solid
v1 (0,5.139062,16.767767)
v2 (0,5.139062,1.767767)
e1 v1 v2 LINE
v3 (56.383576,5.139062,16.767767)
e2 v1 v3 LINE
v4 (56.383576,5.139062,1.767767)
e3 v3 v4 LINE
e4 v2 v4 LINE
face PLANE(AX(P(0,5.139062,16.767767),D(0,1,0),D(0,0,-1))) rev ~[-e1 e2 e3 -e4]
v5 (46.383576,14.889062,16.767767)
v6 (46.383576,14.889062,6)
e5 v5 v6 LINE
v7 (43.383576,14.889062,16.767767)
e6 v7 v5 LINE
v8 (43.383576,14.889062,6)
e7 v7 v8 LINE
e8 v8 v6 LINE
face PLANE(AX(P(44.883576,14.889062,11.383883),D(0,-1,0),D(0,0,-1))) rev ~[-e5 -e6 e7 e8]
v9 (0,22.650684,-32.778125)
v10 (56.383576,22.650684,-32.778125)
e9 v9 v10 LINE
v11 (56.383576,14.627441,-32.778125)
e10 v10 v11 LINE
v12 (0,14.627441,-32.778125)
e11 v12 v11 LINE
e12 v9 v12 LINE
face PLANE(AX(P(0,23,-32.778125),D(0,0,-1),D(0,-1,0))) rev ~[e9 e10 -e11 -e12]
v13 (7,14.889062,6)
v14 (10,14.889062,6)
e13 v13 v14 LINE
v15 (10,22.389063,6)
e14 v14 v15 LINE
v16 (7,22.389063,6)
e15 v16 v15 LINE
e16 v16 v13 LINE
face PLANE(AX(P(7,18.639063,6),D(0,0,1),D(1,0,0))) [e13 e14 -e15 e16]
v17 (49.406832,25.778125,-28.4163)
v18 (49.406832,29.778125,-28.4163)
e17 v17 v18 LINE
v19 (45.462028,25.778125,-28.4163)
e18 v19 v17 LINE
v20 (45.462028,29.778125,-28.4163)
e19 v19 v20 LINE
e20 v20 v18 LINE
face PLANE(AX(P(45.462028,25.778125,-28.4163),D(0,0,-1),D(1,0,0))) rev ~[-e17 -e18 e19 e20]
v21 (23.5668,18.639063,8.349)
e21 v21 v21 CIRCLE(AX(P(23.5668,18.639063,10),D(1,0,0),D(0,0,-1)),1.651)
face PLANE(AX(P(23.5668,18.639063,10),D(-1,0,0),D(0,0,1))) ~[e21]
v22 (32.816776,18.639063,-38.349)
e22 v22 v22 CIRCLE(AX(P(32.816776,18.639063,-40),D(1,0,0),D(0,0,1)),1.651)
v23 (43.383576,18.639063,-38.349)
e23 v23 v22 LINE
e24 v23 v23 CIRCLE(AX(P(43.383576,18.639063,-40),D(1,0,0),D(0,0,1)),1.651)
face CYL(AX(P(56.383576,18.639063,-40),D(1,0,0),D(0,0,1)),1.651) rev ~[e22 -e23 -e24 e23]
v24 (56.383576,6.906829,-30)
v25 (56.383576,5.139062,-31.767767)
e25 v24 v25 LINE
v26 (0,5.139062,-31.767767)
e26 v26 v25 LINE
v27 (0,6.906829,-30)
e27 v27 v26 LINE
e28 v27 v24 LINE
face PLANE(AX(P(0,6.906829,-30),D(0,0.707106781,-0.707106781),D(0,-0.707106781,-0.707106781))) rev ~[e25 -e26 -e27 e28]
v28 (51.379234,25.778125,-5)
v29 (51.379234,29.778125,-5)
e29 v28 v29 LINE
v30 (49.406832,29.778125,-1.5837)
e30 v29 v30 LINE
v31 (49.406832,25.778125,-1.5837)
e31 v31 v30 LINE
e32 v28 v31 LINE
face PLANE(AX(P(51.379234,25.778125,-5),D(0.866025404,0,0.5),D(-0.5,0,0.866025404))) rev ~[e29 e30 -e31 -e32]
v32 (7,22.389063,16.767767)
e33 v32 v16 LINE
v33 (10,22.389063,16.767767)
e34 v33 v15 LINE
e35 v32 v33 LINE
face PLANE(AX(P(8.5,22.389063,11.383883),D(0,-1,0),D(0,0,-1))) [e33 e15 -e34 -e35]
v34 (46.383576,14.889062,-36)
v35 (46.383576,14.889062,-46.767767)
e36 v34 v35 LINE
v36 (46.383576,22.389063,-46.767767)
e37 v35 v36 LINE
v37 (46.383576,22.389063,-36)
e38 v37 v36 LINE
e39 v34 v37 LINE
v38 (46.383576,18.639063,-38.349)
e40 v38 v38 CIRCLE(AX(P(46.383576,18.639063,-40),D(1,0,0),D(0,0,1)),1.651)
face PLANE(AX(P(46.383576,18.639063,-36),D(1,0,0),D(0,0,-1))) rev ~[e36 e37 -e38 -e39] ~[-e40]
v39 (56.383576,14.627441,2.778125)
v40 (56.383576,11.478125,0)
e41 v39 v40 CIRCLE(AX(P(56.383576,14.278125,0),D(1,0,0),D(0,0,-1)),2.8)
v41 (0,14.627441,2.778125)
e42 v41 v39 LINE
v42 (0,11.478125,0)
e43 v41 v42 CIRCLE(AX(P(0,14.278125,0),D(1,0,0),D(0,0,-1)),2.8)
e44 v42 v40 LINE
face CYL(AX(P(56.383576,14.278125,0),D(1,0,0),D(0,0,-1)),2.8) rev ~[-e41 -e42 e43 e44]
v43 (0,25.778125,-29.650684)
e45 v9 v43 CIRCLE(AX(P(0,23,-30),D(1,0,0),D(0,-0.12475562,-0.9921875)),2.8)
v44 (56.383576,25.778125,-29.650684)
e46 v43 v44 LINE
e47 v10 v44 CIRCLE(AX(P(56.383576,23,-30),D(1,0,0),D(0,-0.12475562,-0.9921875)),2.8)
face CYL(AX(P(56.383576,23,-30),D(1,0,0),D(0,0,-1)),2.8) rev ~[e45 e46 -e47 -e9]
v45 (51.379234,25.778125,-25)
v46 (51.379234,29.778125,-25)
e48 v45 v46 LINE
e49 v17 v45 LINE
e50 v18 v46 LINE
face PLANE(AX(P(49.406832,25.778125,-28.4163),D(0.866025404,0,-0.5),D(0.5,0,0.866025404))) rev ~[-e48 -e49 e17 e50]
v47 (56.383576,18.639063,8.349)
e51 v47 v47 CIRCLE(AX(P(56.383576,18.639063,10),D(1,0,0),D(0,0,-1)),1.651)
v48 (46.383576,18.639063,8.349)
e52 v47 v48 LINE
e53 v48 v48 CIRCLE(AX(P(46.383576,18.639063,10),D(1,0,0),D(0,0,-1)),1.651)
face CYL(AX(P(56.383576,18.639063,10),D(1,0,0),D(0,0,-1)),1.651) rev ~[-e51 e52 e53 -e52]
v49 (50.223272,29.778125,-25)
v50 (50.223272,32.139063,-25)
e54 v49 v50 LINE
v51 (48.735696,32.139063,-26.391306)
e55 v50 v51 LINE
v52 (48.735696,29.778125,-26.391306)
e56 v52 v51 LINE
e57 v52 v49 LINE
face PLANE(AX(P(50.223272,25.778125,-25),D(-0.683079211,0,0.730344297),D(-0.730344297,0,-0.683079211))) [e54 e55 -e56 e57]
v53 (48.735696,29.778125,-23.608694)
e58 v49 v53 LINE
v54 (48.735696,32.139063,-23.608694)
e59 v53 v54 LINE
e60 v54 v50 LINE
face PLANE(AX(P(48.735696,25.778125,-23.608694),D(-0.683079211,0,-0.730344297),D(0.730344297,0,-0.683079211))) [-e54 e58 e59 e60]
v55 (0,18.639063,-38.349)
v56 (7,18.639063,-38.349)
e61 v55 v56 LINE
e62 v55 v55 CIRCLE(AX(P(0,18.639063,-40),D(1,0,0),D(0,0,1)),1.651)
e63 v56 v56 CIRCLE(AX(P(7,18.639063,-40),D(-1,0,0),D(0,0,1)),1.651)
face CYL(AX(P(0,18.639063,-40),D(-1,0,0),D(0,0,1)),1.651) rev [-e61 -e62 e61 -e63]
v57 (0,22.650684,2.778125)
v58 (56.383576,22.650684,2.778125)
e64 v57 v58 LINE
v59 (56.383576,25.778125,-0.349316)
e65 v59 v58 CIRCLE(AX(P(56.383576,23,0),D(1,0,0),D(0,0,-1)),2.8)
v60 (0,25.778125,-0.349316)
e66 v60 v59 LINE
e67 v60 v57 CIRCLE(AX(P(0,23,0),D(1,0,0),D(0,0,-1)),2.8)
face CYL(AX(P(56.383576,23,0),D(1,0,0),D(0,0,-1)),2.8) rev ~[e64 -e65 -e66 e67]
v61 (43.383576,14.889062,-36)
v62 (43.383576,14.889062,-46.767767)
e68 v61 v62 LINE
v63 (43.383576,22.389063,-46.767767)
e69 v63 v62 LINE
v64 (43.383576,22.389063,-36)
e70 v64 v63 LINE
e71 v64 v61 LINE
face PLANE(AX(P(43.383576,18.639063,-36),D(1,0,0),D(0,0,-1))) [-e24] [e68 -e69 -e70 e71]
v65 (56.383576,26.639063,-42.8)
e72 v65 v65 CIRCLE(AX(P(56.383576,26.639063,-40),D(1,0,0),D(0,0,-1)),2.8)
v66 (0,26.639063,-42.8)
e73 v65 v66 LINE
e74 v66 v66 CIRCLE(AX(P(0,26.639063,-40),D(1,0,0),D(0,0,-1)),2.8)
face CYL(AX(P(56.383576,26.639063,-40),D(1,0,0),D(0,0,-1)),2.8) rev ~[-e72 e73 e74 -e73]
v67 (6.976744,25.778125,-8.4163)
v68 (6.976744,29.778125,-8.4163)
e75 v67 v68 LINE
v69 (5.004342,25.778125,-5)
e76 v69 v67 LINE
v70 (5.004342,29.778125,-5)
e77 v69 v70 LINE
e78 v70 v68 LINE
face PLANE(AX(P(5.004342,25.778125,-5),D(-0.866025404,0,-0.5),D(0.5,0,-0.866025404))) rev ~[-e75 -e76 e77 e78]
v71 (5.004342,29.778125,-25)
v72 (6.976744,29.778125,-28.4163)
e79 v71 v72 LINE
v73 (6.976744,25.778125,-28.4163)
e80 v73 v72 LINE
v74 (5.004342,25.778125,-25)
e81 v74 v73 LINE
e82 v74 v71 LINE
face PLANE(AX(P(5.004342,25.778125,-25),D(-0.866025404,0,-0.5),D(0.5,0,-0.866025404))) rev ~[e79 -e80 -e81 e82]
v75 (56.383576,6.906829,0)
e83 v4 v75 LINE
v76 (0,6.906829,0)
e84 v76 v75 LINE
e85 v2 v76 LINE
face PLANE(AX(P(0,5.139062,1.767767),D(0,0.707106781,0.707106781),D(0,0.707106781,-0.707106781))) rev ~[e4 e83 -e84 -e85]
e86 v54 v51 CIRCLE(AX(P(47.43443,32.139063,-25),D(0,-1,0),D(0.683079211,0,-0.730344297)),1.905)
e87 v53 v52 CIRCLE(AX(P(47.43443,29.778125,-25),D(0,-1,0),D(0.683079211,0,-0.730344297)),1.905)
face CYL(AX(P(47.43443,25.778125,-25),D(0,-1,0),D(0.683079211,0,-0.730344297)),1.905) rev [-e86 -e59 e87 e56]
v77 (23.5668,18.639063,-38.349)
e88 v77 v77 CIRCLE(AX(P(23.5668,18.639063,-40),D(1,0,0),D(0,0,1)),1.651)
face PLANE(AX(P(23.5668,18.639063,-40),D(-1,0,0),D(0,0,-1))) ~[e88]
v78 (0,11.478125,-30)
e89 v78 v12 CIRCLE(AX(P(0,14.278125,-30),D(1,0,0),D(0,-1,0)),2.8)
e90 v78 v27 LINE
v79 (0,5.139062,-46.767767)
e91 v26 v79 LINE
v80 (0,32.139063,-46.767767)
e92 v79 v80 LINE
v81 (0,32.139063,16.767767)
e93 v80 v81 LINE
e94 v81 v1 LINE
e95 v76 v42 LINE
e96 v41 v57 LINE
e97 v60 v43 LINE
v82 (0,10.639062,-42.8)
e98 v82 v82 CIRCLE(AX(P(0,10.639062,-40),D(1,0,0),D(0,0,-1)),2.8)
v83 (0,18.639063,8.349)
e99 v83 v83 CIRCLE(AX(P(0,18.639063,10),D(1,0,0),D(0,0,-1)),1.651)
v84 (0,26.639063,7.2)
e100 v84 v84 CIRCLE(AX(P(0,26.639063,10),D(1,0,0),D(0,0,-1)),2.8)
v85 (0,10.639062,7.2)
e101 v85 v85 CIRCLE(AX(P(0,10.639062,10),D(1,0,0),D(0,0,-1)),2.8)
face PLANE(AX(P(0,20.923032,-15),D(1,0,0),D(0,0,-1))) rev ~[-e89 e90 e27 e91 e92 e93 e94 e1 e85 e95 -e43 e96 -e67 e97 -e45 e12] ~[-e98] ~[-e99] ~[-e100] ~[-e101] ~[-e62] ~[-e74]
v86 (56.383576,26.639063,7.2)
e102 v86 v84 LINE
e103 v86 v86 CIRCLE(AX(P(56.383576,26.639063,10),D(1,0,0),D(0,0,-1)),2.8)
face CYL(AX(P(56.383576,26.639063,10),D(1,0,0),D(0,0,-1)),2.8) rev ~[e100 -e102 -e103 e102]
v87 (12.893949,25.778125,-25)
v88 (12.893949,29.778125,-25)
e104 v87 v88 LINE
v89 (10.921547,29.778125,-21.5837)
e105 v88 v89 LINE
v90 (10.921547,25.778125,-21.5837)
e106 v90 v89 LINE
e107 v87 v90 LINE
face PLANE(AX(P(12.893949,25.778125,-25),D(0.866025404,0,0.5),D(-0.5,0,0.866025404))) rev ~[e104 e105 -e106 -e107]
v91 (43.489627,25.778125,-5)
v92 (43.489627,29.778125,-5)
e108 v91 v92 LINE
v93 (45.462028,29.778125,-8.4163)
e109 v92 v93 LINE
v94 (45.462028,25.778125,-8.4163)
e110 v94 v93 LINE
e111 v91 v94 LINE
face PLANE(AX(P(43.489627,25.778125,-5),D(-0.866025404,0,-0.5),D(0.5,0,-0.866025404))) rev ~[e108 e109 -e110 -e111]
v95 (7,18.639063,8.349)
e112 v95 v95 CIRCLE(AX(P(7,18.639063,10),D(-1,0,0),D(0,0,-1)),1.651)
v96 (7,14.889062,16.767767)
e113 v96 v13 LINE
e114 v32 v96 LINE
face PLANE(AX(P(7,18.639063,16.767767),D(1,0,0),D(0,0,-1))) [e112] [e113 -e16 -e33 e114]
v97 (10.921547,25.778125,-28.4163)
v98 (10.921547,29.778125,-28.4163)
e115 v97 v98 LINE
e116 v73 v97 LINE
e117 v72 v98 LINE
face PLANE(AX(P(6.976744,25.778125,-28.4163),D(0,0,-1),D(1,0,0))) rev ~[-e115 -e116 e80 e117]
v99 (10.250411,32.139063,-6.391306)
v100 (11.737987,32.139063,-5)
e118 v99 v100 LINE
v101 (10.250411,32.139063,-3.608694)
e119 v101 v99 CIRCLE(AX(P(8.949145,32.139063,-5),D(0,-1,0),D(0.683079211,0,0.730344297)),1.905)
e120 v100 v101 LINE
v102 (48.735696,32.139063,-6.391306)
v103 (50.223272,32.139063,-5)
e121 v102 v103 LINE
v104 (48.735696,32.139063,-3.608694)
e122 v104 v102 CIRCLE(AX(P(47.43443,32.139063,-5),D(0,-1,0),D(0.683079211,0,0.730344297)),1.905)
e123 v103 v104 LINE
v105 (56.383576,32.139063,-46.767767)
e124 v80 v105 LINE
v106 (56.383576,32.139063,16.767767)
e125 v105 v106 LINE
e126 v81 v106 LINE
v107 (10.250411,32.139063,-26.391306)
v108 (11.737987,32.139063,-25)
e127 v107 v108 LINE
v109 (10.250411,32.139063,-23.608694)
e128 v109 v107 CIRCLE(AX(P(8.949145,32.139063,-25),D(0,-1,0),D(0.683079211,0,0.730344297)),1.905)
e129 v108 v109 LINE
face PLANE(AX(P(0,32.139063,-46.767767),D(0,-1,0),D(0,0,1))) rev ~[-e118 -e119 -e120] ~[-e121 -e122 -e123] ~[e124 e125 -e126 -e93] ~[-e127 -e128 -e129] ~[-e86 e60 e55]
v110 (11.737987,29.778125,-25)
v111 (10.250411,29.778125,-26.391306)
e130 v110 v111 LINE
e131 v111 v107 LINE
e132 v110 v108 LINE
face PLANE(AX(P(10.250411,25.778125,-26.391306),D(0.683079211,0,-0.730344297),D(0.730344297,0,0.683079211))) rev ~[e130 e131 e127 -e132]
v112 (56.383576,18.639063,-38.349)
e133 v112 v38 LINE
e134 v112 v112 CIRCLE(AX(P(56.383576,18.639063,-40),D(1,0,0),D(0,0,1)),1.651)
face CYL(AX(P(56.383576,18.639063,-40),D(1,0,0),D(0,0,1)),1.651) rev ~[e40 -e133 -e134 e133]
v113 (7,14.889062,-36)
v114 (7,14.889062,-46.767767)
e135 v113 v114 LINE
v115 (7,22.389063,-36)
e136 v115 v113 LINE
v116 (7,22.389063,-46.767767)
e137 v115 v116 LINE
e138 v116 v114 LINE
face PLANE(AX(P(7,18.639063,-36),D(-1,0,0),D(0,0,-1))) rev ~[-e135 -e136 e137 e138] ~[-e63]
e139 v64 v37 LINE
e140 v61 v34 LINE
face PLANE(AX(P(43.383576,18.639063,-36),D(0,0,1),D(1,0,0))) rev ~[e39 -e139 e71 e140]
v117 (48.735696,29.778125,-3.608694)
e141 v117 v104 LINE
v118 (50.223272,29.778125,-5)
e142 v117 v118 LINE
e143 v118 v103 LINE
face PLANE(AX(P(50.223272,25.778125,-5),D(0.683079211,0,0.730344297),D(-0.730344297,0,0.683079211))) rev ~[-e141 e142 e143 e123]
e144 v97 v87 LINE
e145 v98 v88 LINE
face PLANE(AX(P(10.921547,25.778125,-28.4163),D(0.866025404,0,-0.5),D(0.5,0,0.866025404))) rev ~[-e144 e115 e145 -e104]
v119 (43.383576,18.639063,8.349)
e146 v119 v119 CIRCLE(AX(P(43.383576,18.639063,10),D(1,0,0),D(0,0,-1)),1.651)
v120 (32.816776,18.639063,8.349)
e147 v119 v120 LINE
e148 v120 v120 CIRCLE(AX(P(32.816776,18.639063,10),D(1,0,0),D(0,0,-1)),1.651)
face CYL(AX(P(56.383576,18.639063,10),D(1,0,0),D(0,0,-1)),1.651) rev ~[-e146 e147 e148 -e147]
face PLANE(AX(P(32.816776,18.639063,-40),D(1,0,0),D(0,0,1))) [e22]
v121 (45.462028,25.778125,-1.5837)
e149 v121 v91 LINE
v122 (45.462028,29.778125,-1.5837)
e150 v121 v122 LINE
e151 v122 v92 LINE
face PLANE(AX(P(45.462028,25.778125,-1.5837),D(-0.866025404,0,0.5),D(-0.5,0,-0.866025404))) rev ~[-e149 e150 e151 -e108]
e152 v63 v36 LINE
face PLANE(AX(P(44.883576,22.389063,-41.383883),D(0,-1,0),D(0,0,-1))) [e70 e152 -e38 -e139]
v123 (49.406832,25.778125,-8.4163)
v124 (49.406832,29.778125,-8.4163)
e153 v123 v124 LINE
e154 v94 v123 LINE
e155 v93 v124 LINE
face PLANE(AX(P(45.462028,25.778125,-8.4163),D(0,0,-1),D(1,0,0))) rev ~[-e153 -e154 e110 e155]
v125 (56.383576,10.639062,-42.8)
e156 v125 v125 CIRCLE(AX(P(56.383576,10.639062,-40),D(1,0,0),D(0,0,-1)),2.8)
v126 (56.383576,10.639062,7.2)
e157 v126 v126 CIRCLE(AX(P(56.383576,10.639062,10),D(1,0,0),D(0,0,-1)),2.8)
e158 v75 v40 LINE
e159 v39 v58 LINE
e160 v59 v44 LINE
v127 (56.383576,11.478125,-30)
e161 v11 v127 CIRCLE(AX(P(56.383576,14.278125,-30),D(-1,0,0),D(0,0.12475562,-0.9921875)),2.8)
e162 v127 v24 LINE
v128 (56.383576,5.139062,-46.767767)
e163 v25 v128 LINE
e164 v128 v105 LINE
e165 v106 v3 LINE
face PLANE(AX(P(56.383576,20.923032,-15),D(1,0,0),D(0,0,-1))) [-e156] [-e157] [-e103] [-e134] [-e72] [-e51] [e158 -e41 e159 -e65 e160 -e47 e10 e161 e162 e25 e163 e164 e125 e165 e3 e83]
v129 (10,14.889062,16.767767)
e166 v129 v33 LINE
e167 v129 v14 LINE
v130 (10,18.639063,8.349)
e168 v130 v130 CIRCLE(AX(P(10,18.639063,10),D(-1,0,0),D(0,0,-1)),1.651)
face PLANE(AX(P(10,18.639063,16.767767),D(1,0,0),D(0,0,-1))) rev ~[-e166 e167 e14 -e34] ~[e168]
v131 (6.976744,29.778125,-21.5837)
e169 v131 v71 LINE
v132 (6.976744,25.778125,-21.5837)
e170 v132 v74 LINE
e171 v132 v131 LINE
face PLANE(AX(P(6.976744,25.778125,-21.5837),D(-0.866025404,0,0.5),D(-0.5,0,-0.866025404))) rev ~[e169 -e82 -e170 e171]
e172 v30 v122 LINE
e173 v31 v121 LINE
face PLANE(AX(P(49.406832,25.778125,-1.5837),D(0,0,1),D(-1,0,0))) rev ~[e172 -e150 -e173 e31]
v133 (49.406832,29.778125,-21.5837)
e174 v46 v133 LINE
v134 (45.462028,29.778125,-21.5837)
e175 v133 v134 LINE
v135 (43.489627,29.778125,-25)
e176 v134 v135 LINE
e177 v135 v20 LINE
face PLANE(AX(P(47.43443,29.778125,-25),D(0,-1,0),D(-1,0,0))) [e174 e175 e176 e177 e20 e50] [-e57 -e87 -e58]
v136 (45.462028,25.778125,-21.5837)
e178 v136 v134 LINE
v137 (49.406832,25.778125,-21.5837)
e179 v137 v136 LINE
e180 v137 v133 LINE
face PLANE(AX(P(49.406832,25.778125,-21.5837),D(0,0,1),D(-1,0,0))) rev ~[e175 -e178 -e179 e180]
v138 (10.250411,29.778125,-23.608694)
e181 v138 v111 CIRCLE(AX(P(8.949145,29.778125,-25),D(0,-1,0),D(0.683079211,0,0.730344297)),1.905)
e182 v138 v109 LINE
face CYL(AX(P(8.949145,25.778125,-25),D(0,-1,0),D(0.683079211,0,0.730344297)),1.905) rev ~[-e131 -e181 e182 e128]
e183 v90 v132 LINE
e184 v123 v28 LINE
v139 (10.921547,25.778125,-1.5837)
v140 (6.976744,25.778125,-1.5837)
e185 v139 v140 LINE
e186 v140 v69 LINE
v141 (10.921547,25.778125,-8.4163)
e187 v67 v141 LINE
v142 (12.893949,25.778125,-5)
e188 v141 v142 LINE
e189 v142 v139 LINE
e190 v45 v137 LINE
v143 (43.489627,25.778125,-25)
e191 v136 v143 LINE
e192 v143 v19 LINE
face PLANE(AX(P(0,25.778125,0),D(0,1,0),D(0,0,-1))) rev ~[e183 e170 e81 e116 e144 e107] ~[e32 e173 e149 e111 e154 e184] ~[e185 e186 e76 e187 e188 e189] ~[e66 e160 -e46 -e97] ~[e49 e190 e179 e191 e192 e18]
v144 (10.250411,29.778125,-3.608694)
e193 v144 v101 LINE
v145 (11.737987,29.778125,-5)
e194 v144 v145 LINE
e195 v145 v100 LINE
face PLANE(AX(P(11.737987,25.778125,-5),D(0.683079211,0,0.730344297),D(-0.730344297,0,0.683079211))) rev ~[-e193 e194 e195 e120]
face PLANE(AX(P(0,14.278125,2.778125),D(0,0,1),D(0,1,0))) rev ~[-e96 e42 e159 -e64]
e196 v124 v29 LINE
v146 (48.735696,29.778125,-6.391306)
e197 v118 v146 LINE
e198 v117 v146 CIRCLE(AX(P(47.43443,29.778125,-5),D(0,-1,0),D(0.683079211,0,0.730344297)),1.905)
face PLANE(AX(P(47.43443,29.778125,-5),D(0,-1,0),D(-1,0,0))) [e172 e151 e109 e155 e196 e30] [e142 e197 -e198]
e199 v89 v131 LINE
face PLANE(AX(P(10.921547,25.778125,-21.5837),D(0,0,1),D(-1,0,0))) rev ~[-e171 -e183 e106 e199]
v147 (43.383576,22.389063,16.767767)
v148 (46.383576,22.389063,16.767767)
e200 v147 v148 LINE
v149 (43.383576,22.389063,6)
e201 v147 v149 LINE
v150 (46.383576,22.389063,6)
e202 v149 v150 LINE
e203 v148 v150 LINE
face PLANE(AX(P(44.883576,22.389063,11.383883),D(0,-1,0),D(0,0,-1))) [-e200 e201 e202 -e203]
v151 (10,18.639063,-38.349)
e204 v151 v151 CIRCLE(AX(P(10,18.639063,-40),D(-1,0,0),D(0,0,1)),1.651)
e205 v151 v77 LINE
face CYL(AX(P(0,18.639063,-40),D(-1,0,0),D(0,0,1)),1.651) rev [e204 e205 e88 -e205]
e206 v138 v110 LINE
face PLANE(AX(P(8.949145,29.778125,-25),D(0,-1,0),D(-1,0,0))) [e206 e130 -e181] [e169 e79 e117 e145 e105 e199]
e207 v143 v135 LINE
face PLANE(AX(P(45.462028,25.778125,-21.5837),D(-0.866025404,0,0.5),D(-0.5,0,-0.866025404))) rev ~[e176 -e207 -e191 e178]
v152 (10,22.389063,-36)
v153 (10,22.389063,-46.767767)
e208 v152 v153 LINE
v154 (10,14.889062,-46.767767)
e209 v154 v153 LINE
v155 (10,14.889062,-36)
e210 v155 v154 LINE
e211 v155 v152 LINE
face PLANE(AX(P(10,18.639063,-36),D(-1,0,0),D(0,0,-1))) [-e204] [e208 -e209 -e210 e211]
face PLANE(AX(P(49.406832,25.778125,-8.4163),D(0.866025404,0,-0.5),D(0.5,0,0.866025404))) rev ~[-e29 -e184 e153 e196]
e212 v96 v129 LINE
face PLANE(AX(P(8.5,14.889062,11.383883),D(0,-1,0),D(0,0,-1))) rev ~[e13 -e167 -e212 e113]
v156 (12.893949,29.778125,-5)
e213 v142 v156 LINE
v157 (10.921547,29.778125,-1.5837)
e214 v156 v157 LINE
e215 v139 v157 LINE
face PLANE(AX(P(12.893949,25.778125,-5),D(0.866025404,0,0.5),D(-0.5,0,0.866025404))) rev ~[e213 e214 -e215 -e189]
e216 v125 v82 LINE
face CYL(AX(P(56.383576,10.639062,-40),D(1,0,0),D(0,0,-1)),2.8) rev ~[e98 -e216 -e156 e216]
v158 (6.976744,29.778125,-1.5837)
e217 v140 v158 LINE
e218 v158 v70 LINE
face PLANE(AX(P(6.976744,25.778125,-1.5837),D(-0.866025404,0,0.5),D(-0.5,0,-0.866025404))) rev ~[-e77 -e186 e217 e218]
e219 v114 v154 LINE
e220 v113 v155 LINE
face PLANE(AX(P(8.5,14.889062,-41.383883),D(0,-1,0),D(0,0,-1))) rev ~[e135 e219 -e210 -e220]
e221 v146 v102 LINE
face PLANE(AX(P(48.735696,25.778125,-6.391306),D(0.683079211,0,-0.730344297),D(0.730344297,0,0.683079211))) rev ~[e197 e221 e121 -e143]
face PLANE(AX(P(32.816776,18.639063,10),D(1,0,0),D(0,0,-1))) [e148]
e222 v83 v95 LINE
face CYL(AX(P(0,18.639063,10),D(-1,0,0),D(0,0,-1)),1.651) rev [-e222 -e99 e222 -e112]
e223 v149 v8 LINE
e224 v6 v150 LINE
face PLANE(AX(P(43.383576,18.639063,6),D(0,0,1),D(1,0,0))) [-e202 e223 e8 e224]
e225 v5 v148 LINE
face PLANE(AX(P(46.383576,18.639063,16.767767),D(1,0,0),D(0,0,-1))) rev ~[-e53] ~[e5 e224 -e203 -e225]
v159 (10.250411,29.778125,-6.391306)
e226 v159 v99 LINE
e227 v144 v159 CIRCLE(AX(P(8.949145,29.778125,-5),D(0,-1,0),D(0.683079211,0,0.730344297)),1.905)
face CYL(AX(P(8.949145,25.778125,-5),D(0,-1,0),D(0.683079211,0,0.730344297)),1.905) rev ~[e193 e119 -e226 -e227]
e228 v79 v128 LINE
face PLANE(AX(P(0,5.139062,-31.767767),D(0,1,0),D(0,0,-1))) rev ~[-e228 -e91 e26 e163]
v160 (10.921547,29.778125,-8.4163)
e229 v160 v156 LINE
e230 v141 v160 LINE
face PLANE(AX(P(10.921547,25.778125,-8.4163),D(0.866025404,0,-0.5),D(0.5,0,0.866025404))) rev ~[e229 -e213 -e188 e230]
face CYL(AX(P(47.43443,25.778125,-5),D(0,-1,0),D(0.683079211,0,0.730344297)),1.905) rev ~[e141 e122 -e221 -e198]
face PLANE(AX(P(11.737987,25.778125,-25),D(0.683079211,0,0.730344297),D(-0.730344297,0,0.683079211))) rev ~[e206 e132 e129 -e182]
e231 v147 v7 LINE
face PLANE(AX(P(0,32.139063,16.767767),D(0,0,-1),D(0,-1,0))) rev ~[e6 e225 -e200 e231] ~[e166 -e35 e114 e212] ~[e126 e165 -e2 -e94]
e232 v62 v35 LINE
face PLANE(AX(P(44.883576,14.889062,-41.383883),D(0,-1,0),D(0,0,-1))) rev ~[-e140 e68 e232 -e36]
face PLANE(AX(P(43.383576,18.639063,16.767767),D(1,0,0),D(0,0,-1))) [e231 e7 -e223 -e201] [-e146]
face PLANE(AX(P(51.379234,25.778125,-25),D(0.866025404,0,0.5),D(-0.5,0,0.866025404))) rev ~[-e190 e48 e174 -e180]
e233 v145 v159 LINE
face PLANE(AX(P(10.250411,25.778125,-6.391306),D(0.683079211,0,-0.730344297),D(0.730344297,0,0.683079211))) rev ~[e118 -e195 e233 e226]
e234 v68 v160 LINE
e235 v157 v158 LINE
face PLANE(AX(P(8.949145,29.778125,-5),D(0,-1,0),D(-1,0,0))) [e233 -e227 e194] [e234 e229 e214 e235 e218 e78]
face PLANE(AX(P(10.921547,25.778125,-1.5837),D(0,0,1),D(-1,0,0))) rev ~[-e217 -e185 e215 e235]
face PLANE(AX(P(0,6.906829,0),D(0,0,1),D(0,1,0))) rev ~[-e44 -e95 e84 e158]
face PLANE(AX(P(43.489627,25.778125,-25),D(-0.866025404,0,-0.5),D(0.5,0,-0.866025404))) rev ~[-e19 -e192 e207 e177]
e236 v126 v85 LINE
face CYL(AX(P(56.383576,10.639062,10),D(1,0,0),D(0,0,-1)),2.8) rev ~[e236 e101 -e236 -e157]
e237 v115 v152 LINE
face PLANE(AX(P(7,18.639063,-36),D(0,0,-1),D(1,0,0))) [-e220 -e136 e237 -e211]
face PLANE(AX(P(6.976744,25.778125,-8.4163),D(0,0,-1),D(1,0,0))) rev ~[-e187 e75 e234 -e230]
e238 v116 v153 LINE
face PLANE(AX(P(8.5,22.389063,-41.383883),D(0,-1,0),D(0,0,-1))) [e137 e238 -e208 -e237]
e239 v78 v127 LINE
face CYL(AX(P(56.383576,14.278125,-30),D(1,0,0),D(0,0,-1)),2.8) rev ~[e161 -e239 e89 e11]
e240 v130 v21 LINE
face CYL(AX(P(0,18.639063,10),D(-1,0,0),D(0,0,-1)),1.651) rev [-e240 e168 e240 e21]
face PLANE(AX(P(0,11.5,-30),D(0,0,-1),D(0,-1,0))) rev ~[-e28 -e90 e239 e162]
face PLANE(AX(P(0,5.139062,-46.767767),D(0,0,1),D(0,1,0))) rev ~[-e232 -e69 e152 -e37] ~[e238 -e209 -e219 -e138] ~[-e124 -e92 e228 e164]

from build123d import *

# Parameters (mm, degrees)
SKETCH2_R           = 2.778125
BOSS_EXTRUDE2_DEPTH = 56.3835756
SKETCH3_R           = 1.651
CUT_EXTRUDE1_DEPTH  = 23.5668
SKETCH4_W           = 10.767766953
SKETCH4_H           = 3
CUT_EXTRUDE2_DEPTH  = 3.75
SKETCH5_R           = 2.8
CUT_EXTRUDE3_DEPTH  = 80.995318373
CUT_EXTRUDE4_DEPTH  = 77.107177875
CUT_EXTRUDE5_DEPTH  = 4


with BuildPart() as part:
    # Sketch2 → Boss-Extrude2 (new body)
    with BuildSketch(Plane(origin=(0, 0, 0), x_dir=(0, 0, -1), z_dir=(1, 0, 0))):
        with BuildLine():
            Line((0, 25.778125), (30, 25.778125))
            ThreePointArc((30, 25.778125), (31.964431026, 24.964431026), (32.778125, 23))
            Line((32.778125, 23), (32.778125, 14.278125))
            ThreePointArc((32.778125, 14.278125), (31.964431026, 12.313693974), (30, 11.5))
            Line((30, 11.5), (30, 6.906829453))
            Line((30, 6.906829453), (31.767766953, 5.1390625))
            Line((31.767766953, 5.1390625), (46.767766953, 5.1390625))
            Line((46.767766953, 5.1390625), (46.767766953, 32.1390625))
            Line((46.767766953, 32.1390625), (-16.767766953, 32.1390625))
            Line((-16.767766953, 32.1390625), (-16.767766953, 5.1390625))
            Line((-16.767766953, 5.1390625), (-1.767766953, 5.1390625))
            Line((-1.767766953, 5.1390625), (0, 6.906829453))
            Line((0, 6.906829453), (0, 11.5))
            ThreePointArc((0, 11.5), (-1.964431026, 12.313693974), (-2.778125, 14.278125))
            Line((-2.778125, 14.278125), (-2.778125, 23))
            ThreePointArc((-2.778125, 23), (-1.964431026, 24.964431026), (0, 25.778125))
        make_face()
        with Locations((-10, 26.6390625)):
            Circle(SKETCH2_R, mode=Mode.SUBTRACT)
        with Locations((-10, 10.6390625)):
            Circle(SKETCH2_R, mode=Mode.SUBTRACT)
        with Locations((40, 10.6390625)):
            Circle(SKETCH2_R, mode=Mode.SUBTRACT)
        with Locations((40, 26.6390625)):
            Circle(SKETCH2_R, mode=Mode.SUBTRACT)
    extrude(amount=BOSS_EXTRUDE2_DEPTH)

    # Sketch3 → Cut-Extrude1 (cut)
    with BuildSketch(Plane(origin=(56.3835756, 0, 0), x_dir=(0, 0, -1), z_dir=(1, 0, 0))):
        with Locations((-10, 18.6390625)):
            Circle(SKETCH3_R)
        with Locations((40, 18.6390625)):
            Circle(SKETCH3_R)
    cut_extrude1 = extrude(amount=-CUT_EXTRUDE1_DEPTH, mode=Mode.SUBTRACT)

    # Sketch4 → Cut-Extrude2 (cut, symmetric)
    with BuildSketch(Plane(origin=(0, 18.6390625, 0), x_dir=(0, 0, -1), z_dir=(0, -1, 0))):
        with Locations((-11.383883477, 44.8835756)):
            Rectangle(SKETCH4_W, SKETCH4_H)
        with Locations((41.383883477, 44.8835756)):
            Rectangle(SKETCH4_W, SKETCH4_H)
        with Locations((-11.383883477, 8.5)):
            Rectangle(SKETCH4_W, SKETCH4_H)
        with Locations((41.383883477, 8.5)):
            Rectangle(SKETCH4_W, SKETCH4_H)
    extrude(amount=CUT_EXTRUDE2_DEPTH, both=True, mode=Mode.SUBTRACT)

    # Sketch5 → Cut-Extrude3 (cut, through all)
    with BuildSketch(Plane(origin=(56.3835756, 0, 0), x_dir=(0, 0, -1), z_dir=(1, 0, 0))):
        with Locations((-10, 26.6390625)):
            Circle(SKETCH5_R)
        with Locations((0, 23)):
            Circle(SKETCH5_R)
        with Locations((-10, 10.6390625)):
            Circle(SKETCH5_R)
        with Locations((40, 26.6390625)):
            Circle(SKETCH5_R)
        with Locations((40, 10.6390625)):
            Circle(SKETCH5_R)
        with Locations((30, 23)):
            Circle(SKETCH5_R)
        with Locations((0, 14.278125)):
            Circle(SKETCH5_R)
        with Locations((30, 14.278125)):
            Circle(SKETCH5_R)
    extrude(amount=-CUT_EXTRUDE3_DEPTH, mode=Mode.SUBTRACT)

    # Mirror1: Cut-Extrude1 across plane
    add(cut_extrude1.mirror(Plane.ZY.offset(-28.1917878)), mode=Mode.SUBTRACT)

    # Sketch6 → Cut-Extrude4 (cut, through all)
    with BuildSketch(Plane.XZ.offset(-25.778125)):
        with BuildLine():
            Line((11.737987423, -5), (10.250411309, -3.608694115))
            ThreePointArc((10.250411309, -3.608694115), (7.044145412, -5), (10.250411309, -6.391305885))
            Line((10.250411309, -6.391305885), (11.737987423, -5))
        make_face()
        with BuildLine():
            Line((50.223272198, -5), (48.735696084, -3.608694115))
            ThreePointArc((48.735696084, -3.608694115), (45.529430188, -5), (48.735696084, -6.391305885))
            Line((48.735696084, -6.391305885), (50.223272198, -5))
        make_face()
        with BuildLine():
            Line((50.223272198, -25), (48.735696084, -26.391305885))
            ThreePointArc((48.735696084, -26.391305885), (45.529430188, -25), (48.735696084, -23.608694115))
            Line((48.735696084, -23.608694115), (50.223272198, -25))
        make_face()
        with BuildLine():
            Line((11.737987423, -25), (10.250411309, -23.608694115))
            ThreePointArc((10.250411309, -23.608694115), (7.044145412, -25), (10.250411309, -26.391305885))
            Line((10.250411309, -26.391305885), (11.737987423, -25))
        make_face()
    extrude(amount=-CUT_EXTRUDE4_DEPTH, mode=Mode.SUBTRACT)

    # Sketch7 → Cut-Extrude5 (cut)
    with BuildSketch(Plane(origin=(0, 25.778125, 0), x_dir=(-1, 0, 0), z_dir=(0, -1, 0))):
        Polygon((-10.921547137, 28.4163), (-12.893948862, 25), (-10.921547137, 21.5837), (-6.976743688, 21.5837), (-5.004341963, 25), (-6.976743688, 28.4163), align=None)
        Polygon((-10.921547137, 8.4163), (-12.893948862, 5), (-10.921547137, 1.5837), (-6.976743688, 1.5837), (-5.004341963, 5), (-6.976743688, 8.4163), align=None)
        Polygon((-45.462028463, 8.4163), (-49.406831912, 8.4163), (-51.379233637, 5), (-49.406831912, 1.5837), (-45.462028463, 1.5837), (-43.489626738, 5), align=None)
        Polygon((-45.462028463, 28.4163), (-49.406831912, 28.4163), (-51.379233637, 25), (-49.406831912, 21.5837), (-45.462028463, 21.5837), (-43.489626738, 25), align=None)
    extrude(amount=-CUT_EXTRUDE5_DEPTH, mode=Mode.SUBTRACT)


solid = part.part
